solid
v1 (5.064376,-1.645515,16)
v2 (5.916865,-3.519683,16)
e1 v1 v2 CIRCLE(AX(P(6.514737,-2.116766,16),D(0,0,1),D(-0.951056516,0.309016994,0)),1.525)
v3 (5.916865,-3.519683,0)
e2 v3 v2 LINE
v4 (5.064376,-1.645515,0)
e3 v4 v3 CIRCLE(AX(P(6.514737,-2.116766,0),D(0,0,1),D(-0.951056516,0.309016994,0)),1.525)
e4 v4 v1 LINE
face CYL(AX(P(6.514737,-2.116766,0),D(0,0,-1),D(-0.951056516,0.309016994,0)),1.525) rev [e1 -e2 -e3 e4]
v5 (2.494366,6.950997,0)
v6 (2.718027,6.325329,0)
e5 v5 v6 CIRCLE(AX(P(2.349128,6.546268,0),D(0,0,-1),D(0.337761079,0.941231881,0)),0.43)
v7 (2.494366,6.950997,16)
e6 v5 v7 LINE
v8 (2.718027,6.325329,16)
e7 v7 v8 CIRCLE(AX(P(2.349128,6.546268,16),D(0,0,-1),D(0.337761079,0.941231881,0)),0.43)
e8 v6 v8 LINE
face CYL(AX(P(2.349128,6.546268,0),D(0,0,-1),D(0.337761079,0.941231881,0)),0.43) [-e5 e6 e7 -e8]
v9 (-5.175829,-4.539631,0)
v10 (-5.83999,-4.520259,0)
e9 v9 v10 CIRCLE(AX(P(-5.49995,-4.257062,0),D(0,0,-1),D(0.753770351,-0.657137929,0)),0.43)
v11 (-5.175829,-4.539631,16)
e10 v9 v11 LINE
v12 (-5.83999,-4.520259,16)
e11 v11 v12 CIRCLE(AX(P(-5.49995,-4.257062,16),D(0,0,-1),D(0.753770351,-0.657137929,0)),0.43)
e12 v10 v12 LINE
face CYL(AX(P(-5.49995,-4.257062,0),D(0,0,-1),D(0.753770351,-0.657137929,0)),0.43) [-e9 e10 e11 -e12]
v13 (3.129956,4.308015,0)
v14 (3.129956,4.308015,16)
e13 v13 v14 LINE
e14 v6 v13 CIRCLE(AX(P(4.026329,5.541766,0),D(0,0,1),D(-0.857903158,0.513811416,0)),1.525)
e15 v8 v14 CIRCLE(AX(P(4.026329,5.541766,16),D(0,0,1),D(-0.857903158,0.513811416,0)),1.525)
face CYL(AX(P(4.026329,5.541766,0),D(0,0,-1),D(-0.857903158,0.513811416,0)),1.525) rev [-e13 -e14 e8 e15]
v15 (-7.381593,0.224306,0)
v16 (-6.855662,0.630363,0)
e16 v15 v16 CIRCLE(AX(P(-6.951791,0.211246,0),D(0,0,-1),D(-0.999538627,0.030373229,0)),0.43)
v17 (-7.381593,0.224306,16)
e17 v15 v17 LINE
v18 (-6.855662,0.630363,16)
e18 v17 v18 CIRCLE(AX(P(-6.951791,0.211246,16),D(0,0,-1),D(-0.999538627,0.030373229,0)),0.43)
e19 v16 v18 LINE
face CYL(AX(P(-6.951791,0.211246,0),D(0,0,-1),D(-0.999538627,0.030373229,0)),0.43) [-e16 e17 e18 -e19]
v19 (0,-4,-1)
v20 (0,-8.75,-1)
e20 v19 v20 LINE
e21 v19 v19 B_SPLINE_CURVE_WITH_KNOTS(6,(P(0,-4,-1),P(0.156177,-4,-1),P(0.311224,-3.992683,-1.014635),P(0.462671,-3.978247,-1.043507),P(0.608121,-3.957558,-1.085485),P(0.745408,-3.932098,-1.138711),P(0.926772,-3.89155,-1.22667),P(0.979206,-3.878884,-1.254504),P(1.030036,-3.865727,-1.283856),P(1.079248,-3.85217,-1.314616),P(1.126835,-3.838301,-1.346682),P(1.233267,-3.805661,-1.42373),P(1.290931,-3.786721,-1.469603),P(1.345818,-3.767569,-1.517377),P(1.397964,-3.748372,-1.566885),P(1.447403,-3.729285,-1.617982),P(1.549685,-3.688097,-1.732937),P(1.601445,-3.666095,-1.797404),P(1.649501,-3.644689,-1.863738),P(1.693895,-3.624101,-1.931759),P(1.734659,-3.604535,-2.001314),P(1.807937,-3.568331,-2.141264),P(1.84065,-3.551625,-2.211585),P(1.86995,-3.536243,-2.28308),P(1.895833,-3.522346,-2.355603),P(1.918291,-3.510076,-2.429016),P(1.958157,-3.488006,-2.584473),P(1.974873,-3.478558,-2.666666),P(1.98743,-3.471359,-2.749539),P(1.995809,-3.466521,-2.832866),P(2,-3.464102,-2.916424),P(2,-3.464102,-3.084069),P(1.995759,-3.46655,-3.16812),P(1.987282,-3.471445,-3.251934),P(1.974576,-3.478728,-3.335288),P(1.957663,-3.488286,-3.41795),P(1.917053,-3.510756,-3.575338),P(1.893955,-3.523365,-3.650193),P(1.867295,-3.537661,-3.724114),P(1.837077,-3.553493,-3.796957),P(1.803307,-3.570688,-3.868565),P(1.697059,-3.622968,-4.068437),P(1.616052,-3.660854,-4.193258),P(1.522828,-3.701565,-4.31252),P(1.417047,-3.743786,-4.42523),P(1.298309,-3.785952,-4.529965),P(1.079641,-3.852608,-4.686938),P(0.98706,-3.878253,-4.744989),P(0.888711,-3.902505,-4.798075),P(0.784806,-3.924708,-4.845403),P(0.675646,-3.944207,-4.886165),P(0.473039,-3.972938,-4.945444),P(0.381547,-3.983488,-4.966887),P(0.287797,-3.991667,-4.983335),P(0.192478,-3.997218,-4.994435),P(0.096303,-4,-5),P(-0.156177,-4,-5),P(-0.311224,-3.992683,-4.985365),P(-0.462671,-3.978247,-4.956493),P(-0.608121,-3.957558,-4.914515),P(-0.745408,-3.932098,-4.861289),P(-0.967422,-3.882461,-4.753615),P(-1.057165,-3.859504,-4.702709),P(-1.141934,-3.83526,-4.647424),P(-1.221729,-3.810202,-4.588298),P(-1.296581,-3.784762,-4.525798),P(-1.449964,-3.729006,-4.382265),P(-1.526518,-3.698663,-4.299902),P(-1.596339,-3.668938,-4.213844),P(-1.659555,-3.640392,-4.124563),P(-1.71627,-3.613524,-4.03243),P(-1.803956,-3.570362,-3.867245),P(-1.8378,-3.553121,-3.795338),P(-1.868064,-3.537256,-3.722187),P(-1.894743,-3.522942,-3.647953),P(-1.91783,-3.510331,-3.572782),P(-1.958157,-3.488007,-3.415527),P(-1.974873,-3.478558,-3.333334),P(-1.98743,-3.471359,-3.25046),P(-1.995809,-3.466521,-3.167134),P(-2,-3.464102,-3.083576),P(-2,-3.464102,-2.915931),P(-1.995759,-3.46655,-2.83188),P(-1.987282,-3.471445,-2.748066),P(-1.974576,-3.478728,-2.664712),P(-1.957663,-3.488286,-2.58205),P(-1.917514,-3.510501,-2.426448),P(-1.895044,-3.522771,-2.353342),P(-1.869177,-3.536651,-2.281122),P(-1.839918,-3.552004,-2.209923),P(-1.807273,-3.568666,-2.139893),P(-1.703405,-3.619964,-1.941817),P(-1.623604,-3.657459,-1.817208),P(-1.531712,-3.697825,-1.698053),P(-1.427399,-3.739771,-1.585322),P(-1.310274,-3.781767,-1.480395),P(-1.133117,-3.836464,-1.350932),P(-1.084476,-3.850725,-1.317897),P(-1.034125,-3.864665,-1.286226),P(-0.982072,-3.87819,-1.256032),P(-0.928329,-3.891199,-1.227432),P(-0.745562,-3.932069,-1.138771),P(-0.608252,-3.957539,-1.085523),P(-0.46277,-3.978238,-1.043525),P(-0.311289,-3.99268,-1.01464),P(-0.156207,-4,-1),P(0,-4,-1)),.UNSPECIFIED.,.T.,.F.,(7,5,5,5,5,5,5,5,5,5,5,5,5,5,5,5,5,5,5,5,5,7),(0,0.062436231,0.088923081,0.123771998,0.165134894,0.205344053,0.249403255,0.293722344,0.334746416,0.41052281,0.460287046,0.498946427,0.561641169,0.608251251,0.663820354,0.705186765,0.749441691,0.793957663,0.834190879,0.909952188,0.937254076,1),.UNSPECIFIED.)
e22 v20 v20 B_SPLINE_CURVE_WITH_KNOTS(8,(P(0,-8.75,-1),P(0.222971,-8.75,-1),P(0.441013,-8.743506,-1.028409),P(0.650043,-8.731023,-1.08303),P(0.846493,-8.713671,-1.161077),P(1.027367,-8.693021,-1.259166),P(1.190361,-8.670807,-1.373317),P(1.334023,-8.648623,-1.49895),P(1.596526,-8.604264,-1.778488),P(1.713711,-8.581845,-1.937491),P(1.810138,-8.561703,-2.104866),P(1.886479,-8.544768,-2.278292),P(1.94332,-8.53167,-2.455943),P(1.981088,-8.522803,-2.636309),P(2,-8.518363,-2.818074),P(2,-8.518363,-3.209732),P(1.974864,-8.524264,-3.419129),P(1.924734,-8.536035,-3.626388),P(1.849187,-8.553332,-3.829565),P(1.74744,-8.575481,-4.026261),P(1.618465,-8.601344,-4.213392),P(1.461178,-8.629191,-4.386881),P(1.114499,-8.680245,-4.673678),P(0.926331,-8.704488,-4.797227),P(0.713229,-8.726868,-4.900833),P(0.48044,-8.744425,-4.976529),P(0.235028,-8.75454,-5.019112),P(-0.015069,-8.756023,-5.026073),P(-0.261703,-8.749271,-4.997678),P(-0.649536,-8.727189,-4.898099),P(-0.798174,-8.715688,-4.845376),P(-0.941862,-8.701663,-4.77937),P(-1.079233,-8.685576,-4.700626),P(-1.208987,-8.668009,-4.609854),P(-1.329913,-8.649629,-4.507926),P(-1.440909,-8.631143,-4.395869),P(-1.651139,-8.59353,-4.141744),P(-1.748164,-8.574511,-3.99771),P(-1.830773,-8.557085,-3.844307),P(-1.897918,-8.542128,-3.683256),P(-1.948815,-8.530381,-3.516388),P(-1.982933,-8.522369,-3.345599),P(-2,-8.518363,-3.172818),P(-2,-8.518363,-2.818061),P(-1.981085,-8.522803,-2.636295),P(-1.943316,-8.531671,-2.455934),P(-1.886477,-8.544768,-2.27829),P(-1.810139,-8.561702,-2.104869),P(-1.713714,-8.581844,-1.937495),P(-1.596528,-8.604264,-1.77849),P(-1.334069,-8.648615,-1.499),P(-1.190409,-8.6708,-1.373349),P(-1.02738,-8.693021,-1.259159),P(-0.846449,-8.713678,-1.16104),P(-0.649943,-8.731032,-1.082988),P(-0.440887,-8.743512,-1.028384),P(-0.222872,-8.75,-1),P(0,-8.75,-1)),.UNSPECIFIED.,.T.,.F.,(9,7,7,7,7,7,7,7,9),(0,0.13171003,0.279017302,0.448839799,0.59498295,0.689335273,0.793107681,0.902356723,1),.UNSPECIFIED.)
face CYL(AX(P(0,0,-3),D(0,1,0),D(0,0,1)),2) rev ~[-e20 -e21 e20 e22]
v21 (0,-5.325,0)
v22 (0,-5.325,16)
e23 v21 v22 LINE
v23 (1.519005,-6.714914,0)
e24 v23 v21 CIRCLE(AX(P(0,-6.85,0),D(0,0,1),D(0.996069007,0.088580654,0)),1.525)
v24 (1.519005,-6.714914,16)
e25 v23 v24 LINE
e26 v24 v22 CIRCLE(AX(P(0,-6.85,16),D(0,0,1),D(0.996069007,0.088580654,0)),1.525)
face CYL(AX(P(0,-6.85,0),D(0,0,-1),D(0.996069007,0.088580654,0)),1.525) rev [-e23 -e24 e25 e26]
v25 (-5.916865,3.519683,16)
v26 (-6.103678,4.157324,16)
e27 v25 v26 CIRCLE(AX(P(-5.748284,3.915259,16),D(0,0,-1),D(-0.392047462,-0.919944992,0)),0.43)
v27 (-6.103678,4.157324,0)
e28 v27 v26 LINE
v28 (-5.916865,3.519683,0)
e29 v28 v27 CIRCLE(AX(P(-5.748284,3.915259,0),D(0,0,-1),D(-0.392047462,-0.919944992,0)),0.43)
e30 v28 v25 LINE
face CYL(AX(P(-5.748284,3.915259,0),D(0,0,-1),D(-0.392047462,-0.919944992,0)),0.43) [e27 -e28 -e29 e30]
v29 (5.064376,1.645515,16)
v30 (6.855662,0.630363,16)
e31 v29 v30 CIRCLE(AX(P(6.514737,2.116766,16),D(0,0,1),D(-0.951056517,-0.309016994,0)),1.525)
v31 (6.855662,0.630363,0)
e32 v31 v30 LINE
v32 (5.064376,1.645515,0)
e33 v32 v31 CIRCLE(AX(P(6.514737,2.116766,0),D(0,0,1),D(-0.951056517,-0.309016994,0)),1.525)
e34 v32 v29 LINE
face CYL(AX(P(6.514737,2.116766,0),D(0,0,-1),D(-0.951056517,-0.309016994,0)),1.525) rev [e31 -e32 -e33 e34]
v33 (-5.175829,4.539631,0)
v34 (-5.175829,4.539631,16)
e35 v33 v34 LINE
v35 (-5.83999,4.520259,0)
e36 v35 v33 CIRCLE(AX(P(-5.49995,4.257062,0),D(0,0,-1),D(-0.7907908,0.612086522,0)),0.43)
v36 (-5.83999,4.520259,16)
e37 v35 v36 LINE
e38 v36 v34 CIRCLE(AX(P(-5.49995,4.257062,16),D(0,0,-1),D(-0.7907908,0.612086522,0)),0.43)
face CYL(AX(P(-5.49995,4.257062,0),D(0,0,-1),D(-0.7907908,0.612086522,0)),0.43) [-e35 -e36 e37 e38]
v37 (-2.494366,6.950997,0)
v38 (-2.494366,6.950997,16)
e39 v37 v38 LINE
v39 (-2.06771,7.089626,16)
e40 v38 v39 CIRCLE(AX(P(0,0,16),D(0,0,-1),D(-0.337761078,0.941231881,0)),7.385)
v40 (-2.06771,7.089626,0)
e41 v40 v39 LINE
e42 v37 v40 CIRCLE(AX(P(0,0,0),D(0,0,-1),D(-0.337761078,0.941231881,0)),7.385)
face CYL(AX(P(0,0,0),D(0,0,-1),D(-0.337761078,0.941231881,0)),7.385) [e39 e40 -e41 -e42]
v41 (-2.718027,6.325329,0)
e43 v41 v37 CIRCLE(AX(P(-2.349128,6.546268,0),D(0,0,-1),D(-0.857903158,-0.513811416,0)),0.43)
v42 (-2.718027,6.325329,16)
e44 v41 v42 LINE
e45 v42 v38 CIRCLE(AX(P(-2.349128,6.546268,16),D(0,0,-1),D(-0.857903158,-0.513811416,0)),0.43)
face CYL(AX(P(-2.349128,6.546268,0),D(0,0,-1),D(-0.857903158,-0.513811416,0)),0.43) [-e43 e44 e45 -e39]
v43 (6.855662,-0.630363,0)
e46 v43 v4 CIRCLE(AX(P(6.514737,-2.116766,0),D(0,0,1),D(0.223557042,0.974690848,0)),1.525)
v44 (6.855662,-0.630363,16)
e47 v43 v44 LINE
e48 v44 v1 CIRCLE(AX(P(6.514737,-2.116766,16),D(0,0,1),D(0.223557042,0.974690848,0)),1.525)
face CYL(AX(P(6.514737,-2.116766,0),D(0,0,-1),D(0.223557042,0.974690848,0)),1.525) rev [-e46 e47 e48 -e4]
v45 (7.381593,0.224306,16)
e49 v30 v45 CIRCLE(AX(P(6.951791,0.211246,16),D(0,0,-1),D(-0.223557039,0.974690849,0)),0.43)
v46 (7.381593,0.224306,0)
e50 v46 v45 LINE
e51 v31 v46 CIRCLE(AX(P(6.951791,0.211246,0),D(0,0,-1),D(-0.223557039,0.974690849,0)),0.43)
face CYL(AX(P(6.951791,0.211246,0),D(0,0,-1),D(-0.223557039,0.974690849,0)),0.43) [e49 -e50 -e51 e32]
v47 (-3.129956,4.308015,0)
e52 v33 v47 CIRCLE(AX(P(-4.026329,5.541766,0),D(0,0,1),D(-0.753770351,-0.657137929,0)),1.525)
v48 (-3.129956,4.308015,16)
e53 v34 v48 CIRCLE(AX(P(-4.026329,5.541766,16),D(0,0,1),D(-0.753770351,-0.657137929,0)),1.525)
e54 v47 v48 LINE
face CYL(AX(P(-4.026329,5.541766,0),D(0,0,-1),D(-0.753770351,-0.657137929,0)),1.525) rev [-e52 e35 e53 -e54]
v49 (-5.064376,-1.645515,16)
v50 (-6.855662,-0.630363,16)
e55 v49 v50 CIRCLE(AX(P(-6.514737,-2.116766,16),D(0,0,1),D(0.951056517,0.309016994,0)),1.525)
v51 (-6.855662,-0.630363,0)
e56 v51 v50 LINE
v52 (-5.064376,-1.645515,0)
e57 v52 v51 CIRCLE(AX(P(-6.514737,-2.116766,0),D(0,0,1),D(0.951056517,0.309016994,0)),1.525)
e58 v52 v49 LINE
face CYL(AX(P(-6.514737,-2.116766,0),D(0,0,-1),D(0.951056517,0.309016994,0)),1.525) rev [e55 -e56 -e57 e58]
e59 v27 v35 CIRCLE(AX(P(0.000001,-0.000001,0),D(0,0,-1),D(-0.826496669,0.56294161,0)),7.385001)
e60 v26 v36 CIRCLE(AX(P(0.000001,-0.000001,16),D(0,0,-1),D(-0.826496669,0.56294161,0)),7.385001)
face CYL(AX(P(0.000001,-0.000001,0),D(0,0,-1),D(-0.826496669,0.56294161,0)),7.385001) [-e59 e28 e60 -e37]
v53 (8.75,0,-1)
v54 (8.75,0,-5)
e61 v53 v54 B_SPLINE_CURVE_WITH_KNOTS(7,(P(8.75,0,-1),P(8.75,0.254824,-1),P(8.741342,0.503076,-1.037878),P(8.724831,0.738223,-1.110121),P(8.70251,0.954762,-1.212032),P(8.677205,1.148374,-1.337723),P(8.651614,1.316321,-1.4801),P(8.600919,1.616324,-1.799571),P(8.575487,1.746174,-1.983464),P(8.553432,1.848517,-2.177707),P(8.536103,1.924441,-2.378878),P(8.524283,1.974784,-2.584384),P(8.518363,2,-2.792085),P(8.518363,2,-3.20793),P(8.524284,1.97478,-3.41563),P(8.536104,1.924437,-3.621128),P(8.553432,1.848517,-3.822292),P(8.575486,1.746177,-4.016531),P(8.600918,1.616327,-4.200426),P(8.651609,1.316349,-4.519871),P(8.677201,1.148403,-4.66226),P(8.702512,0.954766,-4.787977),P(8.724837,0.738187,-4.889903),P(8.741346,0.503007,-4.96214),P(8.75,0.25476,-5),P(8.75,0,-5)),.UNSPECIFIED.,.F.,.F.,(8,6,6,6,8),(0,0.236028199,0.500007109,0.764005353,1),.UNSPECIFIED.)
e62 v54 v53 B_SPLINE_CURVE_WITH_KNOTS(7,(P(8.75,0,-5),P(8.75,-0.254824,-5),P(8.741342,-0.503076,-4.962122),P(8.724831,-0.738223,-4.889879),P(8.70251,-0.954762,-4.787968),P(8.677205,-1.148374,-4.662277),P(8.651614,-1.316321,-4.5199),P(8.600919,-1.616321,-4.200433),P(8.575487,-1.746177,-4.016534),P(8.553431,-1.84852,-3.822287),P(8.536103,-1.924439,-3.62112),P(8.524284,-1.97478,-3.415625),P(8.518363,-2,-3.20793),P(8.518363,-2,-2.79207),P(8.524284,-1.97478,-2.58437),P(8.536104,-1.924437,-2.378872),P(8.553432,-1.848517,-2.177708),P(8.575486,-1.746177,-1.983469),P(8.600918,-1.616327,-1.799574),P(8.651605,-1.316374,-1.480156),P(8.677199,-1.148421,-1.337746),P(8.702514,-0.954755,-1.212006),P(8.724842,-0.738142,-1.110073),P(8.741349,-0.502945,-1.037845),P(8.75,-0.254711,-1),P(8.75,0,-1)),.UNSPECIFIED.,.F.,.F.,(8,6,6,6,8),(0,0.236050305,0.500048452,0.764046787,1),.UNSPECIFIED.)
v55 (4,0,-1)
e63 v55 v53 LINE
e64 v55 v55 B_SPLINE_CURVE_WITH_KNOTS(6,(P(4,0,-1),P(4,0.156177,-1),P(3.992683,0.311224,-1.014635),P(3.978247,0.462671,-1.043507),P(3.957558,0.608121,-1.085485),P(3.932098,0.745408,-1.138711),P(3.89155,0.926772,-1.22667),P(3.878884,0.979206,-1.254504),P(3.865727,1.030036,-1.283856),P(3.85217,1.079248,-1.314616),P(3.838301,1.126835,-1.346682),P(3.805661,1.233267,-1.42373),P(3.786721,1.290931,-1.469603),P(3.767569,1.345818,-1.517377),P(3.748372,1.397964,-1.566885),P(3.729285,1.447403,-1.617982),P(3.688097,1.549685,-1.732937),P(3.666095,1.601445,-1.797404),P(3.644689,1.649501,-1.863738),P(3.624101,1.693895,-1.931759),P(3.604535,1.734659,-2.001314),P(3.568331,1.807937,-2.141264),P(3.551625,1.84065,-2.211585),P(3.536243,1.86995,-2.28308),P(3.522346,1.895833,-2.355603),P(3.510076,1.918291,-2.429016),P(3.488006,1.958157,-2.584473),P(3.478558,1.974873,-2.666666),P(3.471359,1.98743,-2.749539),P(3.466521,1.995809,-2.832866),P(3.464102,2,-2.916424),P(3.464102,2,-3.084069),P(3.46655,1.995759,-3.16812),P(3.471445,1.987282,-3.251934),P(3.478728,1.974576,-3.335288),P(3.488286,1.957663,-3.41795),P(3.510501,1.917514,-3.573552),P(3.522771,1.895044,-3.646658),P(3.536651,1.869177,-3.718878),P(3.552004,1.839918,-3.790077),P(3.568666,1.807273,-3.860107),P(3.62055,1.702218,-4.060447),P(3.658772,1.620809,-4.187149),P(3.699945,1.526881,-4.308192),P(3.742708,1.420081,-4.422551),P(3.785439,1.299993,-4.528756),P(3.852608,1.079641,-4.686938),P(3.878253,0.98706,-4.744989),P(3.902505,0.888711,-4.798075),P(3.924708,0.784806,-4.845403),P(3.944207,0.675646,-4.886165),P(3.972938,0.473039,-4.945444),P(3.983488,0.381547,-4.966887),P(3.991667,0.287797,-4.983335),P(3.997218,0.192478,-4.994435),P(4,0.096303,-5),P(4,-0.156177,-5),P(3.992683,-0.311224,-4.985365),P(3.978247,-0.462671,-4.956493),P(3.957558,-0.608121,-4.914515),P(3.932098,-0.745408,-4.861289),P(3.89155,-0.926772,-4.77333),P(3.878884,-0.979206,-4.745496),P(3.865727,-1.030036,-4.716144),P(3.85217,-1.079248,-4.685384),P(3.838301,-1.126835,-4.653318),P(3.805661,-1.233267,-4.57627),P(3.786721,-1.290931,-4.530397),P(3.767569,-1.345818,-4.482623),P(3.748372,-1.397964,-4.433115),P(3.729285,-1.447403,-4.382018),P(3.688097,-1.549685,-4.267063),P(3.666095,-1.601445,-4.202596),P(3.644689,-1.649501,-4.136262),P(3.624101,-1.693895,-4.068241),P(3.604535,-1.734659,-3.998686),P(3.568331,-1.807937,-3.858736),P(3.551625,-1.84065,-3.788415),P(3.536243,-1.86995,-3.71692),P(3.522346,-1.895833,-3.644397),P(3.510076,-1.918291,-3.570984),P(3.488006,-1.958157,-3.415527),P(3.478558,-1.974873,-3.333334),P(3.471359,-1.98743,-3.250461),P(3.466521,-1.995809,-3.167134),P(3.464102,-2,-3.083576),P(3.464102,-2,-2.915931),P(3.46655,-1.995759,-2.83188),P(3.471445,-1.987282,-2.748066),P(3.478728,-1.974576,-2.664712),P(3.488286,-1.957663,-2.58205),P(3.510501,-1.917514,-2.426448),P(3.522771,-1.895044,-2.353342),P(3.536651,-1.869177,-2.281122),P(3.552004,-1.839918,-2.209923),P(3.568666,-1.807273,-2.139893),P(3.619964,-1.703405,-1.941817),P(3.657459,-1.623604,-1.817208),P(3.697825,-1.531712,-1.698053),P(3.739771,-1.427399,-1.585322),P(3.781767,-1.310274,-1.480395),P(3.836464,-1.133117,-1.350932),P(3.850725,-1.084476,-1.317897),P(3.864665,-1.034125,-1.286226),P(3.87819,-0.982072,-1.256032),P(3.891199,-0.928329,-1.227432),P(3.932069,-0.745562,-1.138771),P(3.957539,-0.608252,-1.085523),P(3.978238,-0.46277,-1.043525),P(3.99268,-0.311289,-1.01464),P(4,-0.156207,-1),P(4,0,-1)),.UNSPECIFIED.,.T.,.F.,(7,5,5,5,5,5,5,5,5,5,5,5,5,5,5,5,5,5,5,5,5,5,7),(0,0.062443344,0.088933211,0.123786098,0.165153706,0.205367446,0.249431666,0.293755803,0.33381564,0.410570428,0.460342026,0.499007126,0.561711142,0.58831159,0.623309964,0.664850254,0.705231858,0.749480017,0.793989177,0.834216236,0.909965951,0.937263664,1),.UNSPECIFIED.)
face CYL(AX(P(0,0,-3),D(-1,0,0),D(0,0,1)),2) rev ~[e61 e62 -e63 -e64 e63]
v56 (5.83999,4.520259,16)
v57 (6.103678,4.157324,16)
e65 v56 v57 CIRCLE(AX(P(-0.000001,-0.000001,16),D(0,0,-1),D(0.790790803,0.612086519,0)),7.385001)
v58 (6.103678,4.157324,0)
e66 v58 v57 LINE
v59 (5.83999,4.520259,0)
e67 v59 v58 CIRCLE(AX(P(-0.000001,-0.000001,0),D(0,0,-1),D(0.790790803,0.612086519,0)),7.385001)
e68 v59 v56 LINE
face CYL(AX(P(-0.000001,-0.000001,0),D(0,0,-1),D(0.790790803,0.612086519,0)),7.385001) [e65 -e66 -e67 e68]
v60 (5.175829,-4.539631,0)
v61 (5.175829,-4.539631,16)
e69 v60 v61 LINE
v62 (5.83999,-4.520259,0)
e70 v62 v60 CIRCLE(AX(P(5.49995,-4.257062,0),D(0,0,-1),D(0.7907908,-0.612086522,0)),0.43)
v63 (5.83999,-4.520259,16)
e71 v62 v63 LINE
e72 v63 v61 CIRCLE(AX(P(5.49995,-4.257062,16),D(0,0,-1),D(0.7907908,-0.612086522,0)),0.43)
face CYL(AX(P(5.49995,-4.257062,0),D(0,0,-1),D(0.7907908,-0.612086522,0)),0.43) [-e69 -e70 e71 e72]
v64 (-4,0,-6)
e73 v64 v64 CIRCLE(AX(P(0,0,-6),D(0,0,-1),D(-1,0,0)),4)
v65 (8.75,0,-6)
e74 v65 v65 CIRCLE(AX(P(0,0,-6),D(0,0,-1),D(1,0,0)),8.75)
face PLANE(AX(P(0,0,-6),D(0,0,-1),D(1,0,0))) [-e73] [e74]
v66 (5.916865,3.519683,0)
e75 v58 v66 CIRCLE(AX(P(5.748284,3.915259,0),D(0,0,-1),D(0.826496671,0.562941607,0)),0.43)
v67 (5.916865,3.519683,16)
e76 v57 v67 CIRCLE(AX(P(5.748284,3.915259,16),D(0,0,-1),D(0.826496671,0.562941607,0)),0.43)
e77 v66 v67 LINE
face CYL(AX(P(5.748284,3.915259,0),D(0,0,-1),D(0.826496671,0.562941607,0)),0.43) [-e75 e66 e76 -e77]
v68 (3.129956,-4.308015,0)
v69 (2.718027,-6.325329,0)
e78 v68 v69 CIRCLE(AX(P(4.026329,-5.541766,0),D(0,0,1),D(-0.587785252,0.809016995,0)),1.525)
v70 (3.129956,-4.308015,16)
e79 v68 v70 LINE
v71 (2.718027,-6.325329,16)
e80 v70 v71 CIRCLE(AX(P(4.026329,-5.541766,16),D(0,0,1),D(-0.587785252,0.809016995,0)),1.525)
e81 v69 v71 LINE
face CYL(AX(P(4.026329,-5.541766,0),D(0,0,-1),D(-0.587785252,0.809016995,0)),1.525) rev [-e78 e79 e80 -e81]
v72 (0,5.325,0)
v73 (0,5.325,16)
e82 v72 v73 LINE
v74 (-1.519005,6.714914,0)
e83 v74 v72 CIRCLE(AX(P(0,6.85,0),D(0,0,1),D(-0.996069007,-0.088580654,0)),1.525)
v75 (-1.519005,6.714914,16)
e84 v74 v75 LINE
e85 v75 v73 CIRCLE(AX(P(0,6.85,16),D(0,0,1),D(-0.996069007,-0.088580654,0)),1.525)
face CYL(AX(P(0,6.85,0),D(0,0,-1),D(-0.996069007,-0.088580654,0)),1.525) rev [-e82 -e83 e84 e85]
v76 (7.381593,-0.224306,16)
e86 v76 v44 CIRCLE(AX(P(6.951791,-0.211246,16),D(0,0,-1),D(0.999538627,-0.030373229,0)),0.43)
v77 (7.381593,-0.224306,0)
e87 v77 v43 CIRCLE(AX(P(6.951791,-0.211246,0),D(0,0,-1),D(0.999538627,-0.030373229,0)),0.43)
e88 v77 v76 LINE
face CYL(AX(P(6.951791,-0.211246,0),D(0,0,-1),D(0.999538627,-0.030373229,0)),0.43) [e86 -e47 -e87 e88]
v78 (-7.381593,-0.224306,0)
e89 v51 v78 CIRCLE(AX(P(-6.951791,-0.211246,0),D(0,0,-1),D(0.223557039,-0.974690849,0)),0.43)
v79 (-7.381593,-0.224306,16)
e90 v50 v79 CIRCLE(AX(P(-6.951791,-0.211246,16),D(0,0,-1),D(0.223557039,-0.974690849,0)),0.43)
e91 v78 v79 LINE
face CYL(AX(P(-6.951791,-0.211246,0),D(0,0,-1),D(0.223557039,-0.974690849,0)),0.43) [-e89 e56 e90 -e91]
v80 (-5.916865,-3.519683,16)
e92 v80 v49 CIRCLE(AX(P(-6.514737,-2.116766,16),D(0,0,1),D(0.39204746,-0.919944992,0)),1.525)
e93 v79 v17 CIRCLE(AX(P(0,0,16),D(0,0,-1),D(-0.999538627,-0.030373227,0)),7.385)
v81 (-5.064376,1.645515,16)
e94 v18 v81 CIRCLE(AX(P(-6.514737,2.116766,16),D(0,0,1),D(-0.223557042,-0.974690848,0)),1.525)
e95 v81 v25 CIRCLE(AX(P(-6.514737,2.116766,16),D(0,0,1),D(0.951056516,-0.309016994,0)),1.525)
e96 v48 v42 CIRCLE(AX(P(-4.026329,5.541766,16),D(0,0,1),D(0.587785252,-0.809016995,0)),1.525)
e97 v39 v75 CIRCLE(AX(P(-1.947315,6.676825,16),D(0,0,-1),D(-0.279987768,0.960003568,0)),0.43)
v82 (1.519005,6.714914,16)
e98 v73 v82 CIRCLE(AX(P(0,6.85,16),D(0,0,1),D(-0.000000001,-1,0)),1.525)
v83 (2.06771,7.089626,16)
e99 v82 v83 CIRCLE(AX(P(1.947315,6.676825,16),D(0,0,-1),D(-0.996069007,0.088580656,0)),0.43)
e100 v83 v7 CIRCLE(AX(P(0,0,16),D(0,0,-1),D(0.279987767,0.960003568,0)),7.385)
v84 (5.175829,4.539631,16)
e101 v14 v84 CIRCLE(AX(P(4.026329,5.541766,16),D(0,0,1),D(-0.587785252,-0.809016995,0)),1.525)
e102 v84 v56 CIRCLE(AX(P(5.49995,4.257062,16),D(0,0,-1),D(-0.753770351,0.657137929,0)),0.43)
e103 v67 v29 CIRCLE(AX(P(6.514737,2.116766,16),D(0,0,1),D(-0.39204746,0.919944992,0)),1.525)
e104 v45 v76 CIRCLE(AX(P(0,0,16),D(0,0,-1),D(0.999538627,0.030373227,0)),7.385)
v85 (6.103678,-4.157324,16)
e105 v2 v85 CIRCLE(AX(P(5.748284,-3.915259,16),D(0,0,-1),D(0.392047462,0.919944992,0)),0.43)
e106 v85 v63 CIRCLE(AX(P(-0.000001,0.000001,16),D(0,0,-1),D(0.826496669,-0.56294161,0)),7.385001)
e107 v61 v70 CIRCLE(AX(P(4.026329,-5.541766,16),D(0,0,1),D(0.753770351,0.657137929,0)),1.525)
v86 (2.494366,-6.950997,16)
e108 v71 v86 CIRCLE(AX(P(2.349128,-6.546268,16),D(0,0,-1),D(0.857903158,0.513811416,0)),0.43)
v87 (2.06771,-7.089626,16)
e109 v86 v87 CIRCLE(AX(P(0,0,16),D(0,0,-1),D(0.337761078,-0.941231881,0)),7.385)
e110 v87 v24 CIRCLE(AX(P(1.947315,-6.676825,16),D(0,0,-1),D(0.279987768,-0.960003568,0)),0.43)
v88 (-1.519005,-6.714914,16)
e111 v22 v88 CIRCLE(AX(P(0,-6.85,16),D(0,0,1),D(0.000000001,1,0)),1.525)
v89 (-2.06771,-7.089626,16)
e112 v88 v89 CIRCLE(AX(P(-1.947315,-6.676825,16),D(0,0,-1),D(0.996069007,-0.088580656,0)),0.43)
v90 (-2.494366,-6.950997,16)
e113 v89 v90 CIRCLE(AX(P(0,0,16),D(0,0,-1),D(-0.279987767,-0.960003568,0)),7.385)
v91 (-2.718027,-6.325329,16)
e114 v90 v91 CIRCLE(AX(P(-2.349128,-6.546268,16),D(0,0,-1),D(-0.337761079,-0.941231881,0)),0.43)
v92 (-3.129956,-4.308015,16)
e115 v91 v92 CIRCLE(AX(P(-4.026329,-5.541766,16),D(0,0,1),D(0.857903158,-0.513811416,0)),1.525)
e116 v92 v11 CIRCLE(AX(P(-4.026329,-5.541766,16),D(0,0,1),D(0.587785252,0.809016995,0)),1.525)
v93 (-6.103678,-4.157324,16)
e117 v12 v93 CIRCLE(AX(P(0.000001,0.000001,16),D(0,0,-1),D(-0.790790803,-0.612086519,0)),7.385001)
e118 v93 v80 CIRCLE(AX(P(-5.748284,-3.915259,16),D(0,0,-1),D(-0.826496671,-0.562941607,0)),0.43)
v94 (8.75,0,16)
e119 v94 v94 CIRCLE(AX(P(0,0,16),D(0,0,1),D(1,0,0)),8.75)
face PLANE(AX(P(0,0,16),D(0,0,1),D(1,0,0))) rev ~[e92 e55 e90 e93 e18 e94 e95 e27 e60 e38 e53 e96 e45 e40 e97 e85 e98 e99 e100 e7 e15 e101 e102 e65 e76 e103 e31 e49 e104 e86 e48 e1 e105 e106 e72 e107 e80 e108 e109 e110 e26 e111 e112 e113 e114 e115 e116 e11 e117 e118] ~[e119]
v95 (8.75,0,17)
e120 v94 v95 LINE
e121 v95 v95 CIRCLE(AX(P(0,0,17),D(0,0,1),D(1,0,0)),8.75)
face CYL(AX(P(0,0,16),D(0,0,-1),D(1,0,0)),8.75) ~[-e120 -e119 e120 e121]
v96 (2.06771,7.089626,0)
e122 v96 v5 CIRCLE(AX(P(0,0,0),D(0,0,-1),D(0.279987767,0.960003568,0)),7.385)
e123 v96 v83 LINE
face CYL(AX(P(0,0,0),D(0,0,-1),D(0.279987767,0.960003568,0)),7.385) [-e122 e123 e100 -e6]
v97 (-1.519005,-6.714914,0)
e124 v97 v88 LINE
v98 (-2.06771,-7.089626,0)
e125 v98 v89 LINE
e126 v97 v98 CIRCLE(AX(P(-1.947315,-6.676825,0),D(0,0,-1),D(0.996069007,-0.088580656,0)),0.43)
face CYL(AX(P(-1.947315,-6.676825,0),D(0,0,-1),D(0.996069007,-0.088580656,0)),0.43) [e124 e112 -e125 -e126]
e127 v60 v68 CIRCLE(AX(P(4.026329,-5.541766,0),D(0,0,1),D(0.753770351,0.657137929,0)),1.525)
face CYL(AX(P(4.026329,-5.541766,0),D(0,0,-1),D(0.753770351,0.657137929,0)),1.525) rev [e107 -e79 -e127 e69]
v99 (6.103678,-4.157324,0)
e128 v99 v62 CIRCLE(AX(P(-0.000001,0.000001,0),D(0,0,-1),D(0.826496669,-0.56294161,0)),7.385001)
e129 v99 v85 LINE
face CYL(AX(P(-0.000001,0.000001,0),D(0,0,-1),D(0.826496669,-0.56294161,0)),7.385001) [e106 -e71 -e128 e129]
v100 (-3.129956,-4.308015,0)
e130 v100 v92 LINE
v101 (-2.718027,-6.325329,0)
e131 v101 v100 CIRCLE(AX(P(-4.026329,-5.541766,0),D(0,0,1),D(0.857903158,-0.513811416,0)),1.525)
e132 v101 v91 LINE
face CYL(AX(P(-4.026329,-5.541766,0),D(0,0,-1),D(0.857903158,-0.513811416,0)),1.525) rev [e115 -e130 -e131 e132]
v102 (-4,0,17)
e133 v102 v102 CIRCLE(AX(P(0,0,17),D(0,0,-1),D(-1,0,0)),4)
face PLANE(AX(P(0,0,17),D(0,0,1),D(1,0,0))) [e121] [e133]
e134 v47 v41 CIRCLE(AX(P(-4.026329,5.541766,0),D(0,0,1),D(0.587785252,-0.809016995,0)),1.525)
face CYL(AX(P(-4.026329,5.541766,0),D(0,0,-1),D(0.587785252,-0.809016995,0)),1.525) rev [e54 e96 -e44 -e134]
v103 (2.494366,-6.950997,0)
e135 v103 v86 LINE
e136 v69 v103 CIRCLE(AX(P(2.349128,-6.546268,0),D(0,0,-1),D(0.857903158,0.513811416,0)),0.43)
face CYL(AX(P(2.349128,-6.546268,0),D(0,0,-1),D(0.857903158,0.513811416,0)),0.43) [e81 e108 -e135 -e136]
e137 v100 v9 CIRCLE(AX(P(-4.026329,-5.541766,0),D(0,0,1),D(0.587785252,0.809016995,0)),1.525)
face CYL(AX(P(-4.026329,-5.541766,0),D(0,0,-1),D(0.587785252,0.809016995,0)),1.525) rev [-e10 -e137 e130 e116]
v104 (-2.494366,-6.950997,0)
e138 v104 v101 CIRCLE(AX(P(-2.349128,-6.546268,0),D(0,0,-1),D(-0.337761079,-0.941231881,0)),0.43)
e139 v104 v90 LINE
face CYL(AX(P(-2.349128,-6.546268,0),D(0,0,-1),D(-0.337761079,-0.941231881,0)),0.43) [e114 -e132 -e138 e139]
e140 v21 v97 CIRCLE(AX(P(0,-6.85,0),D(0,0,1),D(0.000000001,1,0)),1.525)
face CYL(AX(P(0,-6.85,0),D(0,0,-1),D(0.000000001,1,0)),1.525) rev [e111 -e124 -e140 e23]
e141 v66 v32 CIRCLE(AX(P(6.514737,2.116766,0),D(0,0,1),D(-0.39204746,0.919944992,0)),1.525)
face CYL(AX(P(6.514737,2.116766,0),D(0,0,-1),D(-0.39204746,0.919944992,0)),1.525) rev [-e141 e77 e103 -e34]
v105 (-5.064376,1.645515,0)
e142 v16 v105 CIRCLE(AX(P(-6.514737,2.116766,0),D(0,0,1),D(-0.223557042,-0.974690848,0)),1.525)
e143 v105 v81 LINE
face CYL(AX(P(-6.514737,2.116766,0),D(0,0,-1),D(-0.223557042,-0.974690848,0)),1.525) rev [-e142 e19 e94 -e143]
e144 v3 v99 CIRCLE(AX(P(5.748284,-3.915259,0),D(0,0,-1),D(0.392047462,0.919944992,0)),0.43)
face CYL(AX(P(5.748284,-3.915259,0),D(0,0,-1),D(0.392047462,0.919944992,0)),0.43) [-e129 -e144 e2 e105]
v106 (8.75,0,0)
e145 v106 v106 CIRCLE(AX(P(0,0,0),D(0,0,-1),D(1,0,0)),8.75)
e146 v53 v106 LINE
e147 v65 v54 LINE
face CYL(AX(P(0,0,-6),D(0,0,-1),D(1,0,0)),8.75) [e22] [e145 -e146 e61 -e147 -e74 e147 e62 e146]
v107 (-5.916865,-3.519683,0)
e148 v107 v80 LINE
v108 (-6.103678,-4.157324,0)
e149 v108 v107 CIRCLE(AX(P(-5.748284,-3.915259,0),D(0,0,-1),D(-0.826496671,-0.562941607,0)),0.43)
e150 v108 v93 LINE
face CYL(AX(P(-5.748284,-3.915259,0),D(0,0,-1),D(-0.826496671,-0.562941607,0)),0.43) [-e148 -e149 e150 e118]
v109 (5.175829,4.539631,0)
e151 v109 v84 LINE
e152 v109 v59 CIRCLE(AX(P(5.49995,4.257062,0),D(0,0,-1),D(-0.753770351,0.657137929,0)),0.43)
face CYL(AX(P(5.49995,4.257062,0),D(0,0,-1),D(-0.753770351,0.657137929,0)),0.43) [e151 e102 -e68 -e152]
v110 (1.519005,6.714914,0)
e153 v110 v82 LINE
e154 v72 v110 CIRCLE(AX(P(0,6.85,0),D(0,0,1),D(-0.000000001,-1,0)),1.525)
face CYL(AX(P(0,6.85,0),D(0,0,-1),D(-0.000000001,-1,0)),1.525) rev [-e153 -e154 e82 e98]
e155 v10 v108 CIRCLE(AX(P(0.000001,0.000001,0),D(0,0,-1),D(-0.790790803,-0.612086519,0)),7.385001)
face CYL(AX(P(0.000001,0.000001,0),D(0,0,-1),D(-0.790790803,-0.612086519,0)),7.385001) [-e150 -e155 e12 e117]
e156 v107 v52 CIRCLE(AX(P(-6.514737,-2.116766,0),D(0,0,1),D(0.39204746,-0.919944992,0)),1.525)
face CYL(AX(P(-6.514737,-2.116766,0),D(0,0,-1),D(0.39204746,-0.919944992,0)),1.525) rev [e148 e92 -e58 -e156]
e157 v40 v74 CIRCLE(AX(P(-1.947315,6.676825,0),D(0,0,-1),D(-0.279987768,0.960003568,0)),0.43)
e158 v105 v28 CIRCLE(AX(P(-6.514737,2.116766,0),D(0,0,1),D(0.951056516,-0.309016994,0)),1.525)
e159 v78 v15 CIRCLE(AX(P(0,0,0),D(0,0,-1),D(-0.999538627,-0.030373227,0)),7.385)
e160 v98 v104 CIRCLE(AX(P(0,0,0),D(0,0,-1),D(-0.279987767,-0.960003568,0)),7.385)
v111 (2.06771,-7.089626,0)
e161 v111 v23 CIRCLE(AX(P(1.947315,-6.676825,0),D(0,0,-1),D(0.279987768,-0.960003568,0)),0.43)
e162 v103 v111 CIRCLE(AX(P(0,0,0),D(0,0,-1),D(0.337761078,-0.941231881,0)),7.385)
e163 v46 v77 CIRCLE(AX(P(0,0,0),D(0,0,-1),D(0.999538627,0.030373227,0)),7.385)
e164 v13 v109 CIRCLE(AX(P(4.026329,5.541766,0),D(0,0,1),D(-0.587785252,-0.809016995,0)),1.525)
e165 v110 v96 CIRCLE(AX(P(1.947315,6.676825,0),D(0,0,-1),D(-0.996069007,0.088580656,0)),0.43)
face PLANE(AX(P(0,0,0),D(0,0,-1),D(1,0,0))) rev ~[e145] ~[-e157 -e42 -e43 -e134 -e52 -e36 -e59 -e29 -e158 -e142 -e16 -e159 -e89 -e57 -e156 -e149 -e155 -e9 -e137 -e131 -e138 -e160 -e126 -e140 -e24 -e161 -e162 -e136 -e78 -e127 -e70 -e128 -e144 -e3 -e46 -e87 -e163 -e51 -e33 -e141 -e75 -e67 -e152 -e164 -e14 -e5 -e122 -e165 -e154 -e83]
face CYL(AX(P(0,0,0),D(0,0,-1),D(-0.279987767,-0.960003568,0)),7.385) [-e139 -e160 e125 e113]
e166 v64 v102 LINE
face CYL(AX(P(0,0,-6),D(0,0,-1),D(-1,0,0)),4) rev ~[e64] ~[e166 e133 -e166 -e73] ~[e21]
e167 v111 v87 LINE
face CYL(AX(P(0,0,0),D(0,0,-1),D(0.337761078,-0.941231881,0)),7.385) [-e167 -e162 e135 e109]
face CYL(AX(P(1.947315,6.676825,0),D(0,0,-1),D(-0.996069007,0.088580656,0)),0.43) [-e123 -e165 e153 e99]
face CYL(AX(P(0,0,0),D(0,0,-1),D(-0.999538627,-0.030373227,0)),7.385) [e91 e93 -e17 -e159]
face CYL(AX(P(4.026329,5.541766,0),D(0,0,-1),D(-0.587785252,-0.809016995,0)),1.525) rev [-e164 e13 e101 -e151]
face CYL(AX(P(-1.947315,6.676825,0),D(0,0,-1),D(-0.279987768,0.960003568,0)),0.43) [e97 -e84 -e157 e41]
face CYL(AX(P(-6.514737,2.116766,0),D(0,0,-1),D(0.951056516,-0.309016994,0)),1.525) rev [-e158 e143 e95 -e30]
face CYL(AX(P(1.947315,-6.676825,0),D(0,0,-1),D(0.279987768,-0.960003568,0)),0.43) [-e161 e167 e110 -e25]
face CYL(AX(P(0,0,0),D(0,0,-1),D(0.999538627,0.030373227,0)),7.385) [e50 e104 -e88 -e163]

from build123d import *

# Parameters (mm, degrees)
BOSS_EXTRUDE1_DEPTH = 16
SKETCH2_R           = 8.75
BOSS_EXTRUDE2_DEPTH = 1
BOSS_EXTRUDE3_START = 6
SKETCH3_R           = 8.75
BOSS_EXTRUDE3_DEPTH = 6
SKETCH4_R           = 4
CUT_EXTRUDE1_DEPTH  = 27.117522853
SKETCH5_R           = 2
CUT_EXTRUDE2_DEPTH  = 22.026768653
CIRPATTERN1_COUNT   = 2
CIRPATTERN1_ANGLE   = 90


with BuildPart() as part:
    # Sketch1 → Boss-Extrude1 (new body)
    with BuildSketch(Plane.XY):
        with BuildLine():
            ThreePointArc((0, 5.325), (1.029470644, 5.724915472), (1.519005236, 6.7149145))
            ThreePointArc((1.519005236, 6.7149145), (1.704817188, 7.031923192), (2.067709649, 7.089626352))
            ThreePointArc((2.067709649, 7.089626352), (2.282090503, 7.023552373), (2.494365569, 6.95099744))
            ThreePointArc((2.494365569, 6.95099744), (2.75403467, 6.691011766), (2.718026663, 6.325328822))
            ThreePointArc((2.718026663, 6.325328822), (2.53216164, 5.236661571), (3.129956468, 4.308015495))
            ThreePointArc((3.129956468, 4.308015495), (4.197880131, 4.026446247), (5.175828764, 4.53963107))
            ThreePointArc((5.175828764, 4.53963107), (5.512486825, 4.686878964), (5.839990059, 4.520258965))
            ThreePointArc((5.839990059, 4.520258965), (5.974590503, 4.340794088), (6.103677919, 4.157323762))
            ThreePointArc((6.103677919, 4.157323762), (6.16093889, 3.794361265), (5.916864759, 3.519682524))
            ThreePointArc((5.916864759, 3.519682524), (5.126594241, 2.748180936), (5.064375949, 1.645515495))
            ThreePointArc((5.064375949, 1.645515495), (5.762842089, 0.790011408), (6.855661624, 0.630362868))
            ThreePointArc((6.855661624, 0.630362868), (7.214573857, 0.551606273), (7.381592761, 0.224306291))
            ThreePointArc((7.381592761, 0.224306291), (7.385, 0), (7.381592761, -0.224306291))
            ThreePointArc((7.381592761, -0.224306291), (7.214573857, -0.551606273), (6.855661624, -0.630362868))
            ThreePointArc((6.855661624, -0.630362868), (5.762842089, -0.790011408), (5.064375949, -1.645515495))
            ThreePointArc((5.064375949, -1.645515495), (5.126594241, -2.748180936), (5.916864759, -3.519682524))
            ThreePointArc((5.916864759, -3.519682524), (6.16093889, -3.794361265), (6.103677919, -4.157323762))
            ThreePointArc((6.103677919, -4.157323762), (5.974590503, -4.340794088), (5.839990059, -4.520258965))
            ThreePointArc((5.839990059, -4.520258965), (5.512486825, -4.686878964), (5.175828764, -4.53963107))
            ThreePointArc((5.175828764, -4.53963107), (4.197880131, -4.026446247), (3.129956468, -4.308015495))
            ThreePointArc((3.129956468, -4.308015495), (2.532161639, -5.236661571), (2.718026663, -6.325328822))
            ThreePointArc((2.718026663, -6.325328822), (2.75403467, -6.691011766), (2.494365569, -6.95099744))
            ThreePointArc((2.494365569, -6.95099744), (2.282090503, -7.023552373), (2.067709649, -7.089626352))
            ThreePointArc((2.067709649, -7.089626352), (1.704817188, -7.031923192), (1.519005236, -6.7149145))
            ThreePointArc((1.519005236, -6.7149145), (1.029470644, -5.724915472), (0, -5.325))
            ThreePointArc((0, -5.325), (-1.029470644, -5.724915472), (-1.519005236, -6.7149145))
            ThreePointArc((-1.519005236, -6.7149145), (-1.704817188, -7.031923192), (-2.067709649, -7.089626352))
            ThreePointArc((-2.067709649, -7.089626352), (-2.282090503, -7.023552373), (-2.494365569, -6.95099744))
            ThreePointArc((-2.494365569, -6.95099744), (-2.75403467, -6.691011766), (-2.718026663, -6.325328822))
            ThreePointArc((-2.718026663, -6.325328822), (-2.53216164, -5.236661571), (-3.129956468, -4.308015495))
            ThreePointArc((-3.129956468, -4.308015495), (-4.197880131, -4.026446247), (-5.175828764, -4.53963107))
            ThreePointArc((-5.175828764, -4.53963107), (-5.512486825, -4.686878964), (-5.839990059, -4.520258965))
            ThreePointArc((-5.839990059, -4.520258965), (-5.974590503, -4.340794088), (-6.103677919, -4.157323762))
            ThreePointArc((-6.103677919, -4.157323762), (-6.16093889, -3.794361265), (-5.916864759, -3.519682524))
            ThreePointArc((-5.916864759, -3.519682524), (-5.126594241, -2.748180936), (-5.064375949, -1.645515495))
            ThreePointArc((-5.064375949, -1.645515495), (-5.762842089, -0.790011408), (-6.855661624, -0.630362868))
            ThreePointArc((-6.855661624, -0.630362868), (-7.214573857, -0.551606273), (-7.381592761, -0.224306291))
            ThreePointArc((-7.381592761, -0.224306291), (-7.385, 0), (-7.381592761, 0.224306291))
            ThreePointArc((-7.381592761, 0.224306291), (-7.214573857, 0.551606273), (-6.855661624, 0.630362868))
            ThreePointArc((-6.855661624, 0.630362868), (-5.762842089, 0.790011408), (-5.064375949, 1.645515495))
            ThreePointArc((-5.064375949, 1.645515495), (-5.126594241, 2.748180936), (-5.916864759, 3.519682524))
            ThreePointArc((-5.916864759, 3.519682524), (-6.16093889, 3.794361265), (-6.103677919, 4.157323762))
            ThreePointArc((-6.103677919, 4.157323762), (-5.974590503, 4.340794088), (-5.839990059, 4.520258965))
            ThreePointArc((-5.839990059, 4.520258965), (-5.512486825, 4.686878964), (-5.175828764, 4.53963107))
            ThreePointArc((-5.175828764, 4.53963107), (-4.197880131, 4.026446247), (-3.129956468, 4.308015495))
            ThreePointArc((-3.129956468, 4.308015495), (-2.532161639, 5.236661571), (-2.718026663, 6.325328822))
            ThreePointArc((-2.718026663, 6.325328822), (-2.75403467, 6.691011766), (-2.494365569, 6.95099744))
            ThreePointArc((-2.494365569, 6.95099744), (-2.282090503, 7.023552373), (-2.067709649, 7.089626352))
            ThreePointArc((-2.067709649, 7.089626352), (-1.704817188, 7.031923192), (-1.519005236, 6.7149145))
            ThreePointArc((-1.519005236, 6.7149145), (-1.029470644, 5.724915472), (0, 5.325))
        make_face()
    extrude(amount=BOSS_EXTRUDE1_DEPTH)

    # Sketch2 → Boss-Extrude2 (add)
    with BuildSketch(Plane.XY.offset(16)):
        Circle(SKETCH2_R)
    extrude(amount=BOSS_EXTRUDE2_DEPTH)

    # Sketch3 → Boss-Extrude3 (add)
    with BuildSketch(Plane(origin=(0, 0, 0), x_dir=(-1, 0, 0), z_dir=(0, 0, -1)).offset(BOSS_EXTRUDE3_START)):
        with Locations(Location((0, 0, 0), (0, 0, 180))):
            Circle(SKETCH3_R)
    extrude(amount=-BOSS_EXTRUDE3_DEPTH)

    # Sketch4 → Cut-Extrude1 (cut, through all)
    with BuildSketch(Plane(origin=(0, 0, -6), x_dir=(-1, 0, 0), z_dir=(0, 0, -1))):
        Circle(SKETCH4_R)
    extrude(amount=-CUT_EXTRUDE1_DEPTH, mode=Mode.SUBTRACT)

    # Sketch5 → Cut-Extrude2 (cut, through all)
    with BuildSketch(Plane(origin=(0, 0, 0), x_dir=(1, 0, 0), z_dir=(0, 1, 0))):
        with Locations(Location((0, 3, 0), (0, 0, 270))):
            Circle(SKETCH5_R)
    cut_extrude2 = extrude(amount=-CUT_EXTRUDE2_DEPTH, mode=Mode.SUBTRACT)

    # CirPattern1: Cut-Extrude2 ×2 about axis
    cirpattern1_axis = Axis((0, 0, 16), (0, 0, 1))
    for i in range(1, CIRPATTERN1_COUNT):
        add(cut_extrude2.rotate(cirpattern1_axis, i * CIRPATTERN1_ANGLE / (CIRPATTERN1_COUNT - 1)), mode=Mode.SUBTRACT)


solid = part.part
